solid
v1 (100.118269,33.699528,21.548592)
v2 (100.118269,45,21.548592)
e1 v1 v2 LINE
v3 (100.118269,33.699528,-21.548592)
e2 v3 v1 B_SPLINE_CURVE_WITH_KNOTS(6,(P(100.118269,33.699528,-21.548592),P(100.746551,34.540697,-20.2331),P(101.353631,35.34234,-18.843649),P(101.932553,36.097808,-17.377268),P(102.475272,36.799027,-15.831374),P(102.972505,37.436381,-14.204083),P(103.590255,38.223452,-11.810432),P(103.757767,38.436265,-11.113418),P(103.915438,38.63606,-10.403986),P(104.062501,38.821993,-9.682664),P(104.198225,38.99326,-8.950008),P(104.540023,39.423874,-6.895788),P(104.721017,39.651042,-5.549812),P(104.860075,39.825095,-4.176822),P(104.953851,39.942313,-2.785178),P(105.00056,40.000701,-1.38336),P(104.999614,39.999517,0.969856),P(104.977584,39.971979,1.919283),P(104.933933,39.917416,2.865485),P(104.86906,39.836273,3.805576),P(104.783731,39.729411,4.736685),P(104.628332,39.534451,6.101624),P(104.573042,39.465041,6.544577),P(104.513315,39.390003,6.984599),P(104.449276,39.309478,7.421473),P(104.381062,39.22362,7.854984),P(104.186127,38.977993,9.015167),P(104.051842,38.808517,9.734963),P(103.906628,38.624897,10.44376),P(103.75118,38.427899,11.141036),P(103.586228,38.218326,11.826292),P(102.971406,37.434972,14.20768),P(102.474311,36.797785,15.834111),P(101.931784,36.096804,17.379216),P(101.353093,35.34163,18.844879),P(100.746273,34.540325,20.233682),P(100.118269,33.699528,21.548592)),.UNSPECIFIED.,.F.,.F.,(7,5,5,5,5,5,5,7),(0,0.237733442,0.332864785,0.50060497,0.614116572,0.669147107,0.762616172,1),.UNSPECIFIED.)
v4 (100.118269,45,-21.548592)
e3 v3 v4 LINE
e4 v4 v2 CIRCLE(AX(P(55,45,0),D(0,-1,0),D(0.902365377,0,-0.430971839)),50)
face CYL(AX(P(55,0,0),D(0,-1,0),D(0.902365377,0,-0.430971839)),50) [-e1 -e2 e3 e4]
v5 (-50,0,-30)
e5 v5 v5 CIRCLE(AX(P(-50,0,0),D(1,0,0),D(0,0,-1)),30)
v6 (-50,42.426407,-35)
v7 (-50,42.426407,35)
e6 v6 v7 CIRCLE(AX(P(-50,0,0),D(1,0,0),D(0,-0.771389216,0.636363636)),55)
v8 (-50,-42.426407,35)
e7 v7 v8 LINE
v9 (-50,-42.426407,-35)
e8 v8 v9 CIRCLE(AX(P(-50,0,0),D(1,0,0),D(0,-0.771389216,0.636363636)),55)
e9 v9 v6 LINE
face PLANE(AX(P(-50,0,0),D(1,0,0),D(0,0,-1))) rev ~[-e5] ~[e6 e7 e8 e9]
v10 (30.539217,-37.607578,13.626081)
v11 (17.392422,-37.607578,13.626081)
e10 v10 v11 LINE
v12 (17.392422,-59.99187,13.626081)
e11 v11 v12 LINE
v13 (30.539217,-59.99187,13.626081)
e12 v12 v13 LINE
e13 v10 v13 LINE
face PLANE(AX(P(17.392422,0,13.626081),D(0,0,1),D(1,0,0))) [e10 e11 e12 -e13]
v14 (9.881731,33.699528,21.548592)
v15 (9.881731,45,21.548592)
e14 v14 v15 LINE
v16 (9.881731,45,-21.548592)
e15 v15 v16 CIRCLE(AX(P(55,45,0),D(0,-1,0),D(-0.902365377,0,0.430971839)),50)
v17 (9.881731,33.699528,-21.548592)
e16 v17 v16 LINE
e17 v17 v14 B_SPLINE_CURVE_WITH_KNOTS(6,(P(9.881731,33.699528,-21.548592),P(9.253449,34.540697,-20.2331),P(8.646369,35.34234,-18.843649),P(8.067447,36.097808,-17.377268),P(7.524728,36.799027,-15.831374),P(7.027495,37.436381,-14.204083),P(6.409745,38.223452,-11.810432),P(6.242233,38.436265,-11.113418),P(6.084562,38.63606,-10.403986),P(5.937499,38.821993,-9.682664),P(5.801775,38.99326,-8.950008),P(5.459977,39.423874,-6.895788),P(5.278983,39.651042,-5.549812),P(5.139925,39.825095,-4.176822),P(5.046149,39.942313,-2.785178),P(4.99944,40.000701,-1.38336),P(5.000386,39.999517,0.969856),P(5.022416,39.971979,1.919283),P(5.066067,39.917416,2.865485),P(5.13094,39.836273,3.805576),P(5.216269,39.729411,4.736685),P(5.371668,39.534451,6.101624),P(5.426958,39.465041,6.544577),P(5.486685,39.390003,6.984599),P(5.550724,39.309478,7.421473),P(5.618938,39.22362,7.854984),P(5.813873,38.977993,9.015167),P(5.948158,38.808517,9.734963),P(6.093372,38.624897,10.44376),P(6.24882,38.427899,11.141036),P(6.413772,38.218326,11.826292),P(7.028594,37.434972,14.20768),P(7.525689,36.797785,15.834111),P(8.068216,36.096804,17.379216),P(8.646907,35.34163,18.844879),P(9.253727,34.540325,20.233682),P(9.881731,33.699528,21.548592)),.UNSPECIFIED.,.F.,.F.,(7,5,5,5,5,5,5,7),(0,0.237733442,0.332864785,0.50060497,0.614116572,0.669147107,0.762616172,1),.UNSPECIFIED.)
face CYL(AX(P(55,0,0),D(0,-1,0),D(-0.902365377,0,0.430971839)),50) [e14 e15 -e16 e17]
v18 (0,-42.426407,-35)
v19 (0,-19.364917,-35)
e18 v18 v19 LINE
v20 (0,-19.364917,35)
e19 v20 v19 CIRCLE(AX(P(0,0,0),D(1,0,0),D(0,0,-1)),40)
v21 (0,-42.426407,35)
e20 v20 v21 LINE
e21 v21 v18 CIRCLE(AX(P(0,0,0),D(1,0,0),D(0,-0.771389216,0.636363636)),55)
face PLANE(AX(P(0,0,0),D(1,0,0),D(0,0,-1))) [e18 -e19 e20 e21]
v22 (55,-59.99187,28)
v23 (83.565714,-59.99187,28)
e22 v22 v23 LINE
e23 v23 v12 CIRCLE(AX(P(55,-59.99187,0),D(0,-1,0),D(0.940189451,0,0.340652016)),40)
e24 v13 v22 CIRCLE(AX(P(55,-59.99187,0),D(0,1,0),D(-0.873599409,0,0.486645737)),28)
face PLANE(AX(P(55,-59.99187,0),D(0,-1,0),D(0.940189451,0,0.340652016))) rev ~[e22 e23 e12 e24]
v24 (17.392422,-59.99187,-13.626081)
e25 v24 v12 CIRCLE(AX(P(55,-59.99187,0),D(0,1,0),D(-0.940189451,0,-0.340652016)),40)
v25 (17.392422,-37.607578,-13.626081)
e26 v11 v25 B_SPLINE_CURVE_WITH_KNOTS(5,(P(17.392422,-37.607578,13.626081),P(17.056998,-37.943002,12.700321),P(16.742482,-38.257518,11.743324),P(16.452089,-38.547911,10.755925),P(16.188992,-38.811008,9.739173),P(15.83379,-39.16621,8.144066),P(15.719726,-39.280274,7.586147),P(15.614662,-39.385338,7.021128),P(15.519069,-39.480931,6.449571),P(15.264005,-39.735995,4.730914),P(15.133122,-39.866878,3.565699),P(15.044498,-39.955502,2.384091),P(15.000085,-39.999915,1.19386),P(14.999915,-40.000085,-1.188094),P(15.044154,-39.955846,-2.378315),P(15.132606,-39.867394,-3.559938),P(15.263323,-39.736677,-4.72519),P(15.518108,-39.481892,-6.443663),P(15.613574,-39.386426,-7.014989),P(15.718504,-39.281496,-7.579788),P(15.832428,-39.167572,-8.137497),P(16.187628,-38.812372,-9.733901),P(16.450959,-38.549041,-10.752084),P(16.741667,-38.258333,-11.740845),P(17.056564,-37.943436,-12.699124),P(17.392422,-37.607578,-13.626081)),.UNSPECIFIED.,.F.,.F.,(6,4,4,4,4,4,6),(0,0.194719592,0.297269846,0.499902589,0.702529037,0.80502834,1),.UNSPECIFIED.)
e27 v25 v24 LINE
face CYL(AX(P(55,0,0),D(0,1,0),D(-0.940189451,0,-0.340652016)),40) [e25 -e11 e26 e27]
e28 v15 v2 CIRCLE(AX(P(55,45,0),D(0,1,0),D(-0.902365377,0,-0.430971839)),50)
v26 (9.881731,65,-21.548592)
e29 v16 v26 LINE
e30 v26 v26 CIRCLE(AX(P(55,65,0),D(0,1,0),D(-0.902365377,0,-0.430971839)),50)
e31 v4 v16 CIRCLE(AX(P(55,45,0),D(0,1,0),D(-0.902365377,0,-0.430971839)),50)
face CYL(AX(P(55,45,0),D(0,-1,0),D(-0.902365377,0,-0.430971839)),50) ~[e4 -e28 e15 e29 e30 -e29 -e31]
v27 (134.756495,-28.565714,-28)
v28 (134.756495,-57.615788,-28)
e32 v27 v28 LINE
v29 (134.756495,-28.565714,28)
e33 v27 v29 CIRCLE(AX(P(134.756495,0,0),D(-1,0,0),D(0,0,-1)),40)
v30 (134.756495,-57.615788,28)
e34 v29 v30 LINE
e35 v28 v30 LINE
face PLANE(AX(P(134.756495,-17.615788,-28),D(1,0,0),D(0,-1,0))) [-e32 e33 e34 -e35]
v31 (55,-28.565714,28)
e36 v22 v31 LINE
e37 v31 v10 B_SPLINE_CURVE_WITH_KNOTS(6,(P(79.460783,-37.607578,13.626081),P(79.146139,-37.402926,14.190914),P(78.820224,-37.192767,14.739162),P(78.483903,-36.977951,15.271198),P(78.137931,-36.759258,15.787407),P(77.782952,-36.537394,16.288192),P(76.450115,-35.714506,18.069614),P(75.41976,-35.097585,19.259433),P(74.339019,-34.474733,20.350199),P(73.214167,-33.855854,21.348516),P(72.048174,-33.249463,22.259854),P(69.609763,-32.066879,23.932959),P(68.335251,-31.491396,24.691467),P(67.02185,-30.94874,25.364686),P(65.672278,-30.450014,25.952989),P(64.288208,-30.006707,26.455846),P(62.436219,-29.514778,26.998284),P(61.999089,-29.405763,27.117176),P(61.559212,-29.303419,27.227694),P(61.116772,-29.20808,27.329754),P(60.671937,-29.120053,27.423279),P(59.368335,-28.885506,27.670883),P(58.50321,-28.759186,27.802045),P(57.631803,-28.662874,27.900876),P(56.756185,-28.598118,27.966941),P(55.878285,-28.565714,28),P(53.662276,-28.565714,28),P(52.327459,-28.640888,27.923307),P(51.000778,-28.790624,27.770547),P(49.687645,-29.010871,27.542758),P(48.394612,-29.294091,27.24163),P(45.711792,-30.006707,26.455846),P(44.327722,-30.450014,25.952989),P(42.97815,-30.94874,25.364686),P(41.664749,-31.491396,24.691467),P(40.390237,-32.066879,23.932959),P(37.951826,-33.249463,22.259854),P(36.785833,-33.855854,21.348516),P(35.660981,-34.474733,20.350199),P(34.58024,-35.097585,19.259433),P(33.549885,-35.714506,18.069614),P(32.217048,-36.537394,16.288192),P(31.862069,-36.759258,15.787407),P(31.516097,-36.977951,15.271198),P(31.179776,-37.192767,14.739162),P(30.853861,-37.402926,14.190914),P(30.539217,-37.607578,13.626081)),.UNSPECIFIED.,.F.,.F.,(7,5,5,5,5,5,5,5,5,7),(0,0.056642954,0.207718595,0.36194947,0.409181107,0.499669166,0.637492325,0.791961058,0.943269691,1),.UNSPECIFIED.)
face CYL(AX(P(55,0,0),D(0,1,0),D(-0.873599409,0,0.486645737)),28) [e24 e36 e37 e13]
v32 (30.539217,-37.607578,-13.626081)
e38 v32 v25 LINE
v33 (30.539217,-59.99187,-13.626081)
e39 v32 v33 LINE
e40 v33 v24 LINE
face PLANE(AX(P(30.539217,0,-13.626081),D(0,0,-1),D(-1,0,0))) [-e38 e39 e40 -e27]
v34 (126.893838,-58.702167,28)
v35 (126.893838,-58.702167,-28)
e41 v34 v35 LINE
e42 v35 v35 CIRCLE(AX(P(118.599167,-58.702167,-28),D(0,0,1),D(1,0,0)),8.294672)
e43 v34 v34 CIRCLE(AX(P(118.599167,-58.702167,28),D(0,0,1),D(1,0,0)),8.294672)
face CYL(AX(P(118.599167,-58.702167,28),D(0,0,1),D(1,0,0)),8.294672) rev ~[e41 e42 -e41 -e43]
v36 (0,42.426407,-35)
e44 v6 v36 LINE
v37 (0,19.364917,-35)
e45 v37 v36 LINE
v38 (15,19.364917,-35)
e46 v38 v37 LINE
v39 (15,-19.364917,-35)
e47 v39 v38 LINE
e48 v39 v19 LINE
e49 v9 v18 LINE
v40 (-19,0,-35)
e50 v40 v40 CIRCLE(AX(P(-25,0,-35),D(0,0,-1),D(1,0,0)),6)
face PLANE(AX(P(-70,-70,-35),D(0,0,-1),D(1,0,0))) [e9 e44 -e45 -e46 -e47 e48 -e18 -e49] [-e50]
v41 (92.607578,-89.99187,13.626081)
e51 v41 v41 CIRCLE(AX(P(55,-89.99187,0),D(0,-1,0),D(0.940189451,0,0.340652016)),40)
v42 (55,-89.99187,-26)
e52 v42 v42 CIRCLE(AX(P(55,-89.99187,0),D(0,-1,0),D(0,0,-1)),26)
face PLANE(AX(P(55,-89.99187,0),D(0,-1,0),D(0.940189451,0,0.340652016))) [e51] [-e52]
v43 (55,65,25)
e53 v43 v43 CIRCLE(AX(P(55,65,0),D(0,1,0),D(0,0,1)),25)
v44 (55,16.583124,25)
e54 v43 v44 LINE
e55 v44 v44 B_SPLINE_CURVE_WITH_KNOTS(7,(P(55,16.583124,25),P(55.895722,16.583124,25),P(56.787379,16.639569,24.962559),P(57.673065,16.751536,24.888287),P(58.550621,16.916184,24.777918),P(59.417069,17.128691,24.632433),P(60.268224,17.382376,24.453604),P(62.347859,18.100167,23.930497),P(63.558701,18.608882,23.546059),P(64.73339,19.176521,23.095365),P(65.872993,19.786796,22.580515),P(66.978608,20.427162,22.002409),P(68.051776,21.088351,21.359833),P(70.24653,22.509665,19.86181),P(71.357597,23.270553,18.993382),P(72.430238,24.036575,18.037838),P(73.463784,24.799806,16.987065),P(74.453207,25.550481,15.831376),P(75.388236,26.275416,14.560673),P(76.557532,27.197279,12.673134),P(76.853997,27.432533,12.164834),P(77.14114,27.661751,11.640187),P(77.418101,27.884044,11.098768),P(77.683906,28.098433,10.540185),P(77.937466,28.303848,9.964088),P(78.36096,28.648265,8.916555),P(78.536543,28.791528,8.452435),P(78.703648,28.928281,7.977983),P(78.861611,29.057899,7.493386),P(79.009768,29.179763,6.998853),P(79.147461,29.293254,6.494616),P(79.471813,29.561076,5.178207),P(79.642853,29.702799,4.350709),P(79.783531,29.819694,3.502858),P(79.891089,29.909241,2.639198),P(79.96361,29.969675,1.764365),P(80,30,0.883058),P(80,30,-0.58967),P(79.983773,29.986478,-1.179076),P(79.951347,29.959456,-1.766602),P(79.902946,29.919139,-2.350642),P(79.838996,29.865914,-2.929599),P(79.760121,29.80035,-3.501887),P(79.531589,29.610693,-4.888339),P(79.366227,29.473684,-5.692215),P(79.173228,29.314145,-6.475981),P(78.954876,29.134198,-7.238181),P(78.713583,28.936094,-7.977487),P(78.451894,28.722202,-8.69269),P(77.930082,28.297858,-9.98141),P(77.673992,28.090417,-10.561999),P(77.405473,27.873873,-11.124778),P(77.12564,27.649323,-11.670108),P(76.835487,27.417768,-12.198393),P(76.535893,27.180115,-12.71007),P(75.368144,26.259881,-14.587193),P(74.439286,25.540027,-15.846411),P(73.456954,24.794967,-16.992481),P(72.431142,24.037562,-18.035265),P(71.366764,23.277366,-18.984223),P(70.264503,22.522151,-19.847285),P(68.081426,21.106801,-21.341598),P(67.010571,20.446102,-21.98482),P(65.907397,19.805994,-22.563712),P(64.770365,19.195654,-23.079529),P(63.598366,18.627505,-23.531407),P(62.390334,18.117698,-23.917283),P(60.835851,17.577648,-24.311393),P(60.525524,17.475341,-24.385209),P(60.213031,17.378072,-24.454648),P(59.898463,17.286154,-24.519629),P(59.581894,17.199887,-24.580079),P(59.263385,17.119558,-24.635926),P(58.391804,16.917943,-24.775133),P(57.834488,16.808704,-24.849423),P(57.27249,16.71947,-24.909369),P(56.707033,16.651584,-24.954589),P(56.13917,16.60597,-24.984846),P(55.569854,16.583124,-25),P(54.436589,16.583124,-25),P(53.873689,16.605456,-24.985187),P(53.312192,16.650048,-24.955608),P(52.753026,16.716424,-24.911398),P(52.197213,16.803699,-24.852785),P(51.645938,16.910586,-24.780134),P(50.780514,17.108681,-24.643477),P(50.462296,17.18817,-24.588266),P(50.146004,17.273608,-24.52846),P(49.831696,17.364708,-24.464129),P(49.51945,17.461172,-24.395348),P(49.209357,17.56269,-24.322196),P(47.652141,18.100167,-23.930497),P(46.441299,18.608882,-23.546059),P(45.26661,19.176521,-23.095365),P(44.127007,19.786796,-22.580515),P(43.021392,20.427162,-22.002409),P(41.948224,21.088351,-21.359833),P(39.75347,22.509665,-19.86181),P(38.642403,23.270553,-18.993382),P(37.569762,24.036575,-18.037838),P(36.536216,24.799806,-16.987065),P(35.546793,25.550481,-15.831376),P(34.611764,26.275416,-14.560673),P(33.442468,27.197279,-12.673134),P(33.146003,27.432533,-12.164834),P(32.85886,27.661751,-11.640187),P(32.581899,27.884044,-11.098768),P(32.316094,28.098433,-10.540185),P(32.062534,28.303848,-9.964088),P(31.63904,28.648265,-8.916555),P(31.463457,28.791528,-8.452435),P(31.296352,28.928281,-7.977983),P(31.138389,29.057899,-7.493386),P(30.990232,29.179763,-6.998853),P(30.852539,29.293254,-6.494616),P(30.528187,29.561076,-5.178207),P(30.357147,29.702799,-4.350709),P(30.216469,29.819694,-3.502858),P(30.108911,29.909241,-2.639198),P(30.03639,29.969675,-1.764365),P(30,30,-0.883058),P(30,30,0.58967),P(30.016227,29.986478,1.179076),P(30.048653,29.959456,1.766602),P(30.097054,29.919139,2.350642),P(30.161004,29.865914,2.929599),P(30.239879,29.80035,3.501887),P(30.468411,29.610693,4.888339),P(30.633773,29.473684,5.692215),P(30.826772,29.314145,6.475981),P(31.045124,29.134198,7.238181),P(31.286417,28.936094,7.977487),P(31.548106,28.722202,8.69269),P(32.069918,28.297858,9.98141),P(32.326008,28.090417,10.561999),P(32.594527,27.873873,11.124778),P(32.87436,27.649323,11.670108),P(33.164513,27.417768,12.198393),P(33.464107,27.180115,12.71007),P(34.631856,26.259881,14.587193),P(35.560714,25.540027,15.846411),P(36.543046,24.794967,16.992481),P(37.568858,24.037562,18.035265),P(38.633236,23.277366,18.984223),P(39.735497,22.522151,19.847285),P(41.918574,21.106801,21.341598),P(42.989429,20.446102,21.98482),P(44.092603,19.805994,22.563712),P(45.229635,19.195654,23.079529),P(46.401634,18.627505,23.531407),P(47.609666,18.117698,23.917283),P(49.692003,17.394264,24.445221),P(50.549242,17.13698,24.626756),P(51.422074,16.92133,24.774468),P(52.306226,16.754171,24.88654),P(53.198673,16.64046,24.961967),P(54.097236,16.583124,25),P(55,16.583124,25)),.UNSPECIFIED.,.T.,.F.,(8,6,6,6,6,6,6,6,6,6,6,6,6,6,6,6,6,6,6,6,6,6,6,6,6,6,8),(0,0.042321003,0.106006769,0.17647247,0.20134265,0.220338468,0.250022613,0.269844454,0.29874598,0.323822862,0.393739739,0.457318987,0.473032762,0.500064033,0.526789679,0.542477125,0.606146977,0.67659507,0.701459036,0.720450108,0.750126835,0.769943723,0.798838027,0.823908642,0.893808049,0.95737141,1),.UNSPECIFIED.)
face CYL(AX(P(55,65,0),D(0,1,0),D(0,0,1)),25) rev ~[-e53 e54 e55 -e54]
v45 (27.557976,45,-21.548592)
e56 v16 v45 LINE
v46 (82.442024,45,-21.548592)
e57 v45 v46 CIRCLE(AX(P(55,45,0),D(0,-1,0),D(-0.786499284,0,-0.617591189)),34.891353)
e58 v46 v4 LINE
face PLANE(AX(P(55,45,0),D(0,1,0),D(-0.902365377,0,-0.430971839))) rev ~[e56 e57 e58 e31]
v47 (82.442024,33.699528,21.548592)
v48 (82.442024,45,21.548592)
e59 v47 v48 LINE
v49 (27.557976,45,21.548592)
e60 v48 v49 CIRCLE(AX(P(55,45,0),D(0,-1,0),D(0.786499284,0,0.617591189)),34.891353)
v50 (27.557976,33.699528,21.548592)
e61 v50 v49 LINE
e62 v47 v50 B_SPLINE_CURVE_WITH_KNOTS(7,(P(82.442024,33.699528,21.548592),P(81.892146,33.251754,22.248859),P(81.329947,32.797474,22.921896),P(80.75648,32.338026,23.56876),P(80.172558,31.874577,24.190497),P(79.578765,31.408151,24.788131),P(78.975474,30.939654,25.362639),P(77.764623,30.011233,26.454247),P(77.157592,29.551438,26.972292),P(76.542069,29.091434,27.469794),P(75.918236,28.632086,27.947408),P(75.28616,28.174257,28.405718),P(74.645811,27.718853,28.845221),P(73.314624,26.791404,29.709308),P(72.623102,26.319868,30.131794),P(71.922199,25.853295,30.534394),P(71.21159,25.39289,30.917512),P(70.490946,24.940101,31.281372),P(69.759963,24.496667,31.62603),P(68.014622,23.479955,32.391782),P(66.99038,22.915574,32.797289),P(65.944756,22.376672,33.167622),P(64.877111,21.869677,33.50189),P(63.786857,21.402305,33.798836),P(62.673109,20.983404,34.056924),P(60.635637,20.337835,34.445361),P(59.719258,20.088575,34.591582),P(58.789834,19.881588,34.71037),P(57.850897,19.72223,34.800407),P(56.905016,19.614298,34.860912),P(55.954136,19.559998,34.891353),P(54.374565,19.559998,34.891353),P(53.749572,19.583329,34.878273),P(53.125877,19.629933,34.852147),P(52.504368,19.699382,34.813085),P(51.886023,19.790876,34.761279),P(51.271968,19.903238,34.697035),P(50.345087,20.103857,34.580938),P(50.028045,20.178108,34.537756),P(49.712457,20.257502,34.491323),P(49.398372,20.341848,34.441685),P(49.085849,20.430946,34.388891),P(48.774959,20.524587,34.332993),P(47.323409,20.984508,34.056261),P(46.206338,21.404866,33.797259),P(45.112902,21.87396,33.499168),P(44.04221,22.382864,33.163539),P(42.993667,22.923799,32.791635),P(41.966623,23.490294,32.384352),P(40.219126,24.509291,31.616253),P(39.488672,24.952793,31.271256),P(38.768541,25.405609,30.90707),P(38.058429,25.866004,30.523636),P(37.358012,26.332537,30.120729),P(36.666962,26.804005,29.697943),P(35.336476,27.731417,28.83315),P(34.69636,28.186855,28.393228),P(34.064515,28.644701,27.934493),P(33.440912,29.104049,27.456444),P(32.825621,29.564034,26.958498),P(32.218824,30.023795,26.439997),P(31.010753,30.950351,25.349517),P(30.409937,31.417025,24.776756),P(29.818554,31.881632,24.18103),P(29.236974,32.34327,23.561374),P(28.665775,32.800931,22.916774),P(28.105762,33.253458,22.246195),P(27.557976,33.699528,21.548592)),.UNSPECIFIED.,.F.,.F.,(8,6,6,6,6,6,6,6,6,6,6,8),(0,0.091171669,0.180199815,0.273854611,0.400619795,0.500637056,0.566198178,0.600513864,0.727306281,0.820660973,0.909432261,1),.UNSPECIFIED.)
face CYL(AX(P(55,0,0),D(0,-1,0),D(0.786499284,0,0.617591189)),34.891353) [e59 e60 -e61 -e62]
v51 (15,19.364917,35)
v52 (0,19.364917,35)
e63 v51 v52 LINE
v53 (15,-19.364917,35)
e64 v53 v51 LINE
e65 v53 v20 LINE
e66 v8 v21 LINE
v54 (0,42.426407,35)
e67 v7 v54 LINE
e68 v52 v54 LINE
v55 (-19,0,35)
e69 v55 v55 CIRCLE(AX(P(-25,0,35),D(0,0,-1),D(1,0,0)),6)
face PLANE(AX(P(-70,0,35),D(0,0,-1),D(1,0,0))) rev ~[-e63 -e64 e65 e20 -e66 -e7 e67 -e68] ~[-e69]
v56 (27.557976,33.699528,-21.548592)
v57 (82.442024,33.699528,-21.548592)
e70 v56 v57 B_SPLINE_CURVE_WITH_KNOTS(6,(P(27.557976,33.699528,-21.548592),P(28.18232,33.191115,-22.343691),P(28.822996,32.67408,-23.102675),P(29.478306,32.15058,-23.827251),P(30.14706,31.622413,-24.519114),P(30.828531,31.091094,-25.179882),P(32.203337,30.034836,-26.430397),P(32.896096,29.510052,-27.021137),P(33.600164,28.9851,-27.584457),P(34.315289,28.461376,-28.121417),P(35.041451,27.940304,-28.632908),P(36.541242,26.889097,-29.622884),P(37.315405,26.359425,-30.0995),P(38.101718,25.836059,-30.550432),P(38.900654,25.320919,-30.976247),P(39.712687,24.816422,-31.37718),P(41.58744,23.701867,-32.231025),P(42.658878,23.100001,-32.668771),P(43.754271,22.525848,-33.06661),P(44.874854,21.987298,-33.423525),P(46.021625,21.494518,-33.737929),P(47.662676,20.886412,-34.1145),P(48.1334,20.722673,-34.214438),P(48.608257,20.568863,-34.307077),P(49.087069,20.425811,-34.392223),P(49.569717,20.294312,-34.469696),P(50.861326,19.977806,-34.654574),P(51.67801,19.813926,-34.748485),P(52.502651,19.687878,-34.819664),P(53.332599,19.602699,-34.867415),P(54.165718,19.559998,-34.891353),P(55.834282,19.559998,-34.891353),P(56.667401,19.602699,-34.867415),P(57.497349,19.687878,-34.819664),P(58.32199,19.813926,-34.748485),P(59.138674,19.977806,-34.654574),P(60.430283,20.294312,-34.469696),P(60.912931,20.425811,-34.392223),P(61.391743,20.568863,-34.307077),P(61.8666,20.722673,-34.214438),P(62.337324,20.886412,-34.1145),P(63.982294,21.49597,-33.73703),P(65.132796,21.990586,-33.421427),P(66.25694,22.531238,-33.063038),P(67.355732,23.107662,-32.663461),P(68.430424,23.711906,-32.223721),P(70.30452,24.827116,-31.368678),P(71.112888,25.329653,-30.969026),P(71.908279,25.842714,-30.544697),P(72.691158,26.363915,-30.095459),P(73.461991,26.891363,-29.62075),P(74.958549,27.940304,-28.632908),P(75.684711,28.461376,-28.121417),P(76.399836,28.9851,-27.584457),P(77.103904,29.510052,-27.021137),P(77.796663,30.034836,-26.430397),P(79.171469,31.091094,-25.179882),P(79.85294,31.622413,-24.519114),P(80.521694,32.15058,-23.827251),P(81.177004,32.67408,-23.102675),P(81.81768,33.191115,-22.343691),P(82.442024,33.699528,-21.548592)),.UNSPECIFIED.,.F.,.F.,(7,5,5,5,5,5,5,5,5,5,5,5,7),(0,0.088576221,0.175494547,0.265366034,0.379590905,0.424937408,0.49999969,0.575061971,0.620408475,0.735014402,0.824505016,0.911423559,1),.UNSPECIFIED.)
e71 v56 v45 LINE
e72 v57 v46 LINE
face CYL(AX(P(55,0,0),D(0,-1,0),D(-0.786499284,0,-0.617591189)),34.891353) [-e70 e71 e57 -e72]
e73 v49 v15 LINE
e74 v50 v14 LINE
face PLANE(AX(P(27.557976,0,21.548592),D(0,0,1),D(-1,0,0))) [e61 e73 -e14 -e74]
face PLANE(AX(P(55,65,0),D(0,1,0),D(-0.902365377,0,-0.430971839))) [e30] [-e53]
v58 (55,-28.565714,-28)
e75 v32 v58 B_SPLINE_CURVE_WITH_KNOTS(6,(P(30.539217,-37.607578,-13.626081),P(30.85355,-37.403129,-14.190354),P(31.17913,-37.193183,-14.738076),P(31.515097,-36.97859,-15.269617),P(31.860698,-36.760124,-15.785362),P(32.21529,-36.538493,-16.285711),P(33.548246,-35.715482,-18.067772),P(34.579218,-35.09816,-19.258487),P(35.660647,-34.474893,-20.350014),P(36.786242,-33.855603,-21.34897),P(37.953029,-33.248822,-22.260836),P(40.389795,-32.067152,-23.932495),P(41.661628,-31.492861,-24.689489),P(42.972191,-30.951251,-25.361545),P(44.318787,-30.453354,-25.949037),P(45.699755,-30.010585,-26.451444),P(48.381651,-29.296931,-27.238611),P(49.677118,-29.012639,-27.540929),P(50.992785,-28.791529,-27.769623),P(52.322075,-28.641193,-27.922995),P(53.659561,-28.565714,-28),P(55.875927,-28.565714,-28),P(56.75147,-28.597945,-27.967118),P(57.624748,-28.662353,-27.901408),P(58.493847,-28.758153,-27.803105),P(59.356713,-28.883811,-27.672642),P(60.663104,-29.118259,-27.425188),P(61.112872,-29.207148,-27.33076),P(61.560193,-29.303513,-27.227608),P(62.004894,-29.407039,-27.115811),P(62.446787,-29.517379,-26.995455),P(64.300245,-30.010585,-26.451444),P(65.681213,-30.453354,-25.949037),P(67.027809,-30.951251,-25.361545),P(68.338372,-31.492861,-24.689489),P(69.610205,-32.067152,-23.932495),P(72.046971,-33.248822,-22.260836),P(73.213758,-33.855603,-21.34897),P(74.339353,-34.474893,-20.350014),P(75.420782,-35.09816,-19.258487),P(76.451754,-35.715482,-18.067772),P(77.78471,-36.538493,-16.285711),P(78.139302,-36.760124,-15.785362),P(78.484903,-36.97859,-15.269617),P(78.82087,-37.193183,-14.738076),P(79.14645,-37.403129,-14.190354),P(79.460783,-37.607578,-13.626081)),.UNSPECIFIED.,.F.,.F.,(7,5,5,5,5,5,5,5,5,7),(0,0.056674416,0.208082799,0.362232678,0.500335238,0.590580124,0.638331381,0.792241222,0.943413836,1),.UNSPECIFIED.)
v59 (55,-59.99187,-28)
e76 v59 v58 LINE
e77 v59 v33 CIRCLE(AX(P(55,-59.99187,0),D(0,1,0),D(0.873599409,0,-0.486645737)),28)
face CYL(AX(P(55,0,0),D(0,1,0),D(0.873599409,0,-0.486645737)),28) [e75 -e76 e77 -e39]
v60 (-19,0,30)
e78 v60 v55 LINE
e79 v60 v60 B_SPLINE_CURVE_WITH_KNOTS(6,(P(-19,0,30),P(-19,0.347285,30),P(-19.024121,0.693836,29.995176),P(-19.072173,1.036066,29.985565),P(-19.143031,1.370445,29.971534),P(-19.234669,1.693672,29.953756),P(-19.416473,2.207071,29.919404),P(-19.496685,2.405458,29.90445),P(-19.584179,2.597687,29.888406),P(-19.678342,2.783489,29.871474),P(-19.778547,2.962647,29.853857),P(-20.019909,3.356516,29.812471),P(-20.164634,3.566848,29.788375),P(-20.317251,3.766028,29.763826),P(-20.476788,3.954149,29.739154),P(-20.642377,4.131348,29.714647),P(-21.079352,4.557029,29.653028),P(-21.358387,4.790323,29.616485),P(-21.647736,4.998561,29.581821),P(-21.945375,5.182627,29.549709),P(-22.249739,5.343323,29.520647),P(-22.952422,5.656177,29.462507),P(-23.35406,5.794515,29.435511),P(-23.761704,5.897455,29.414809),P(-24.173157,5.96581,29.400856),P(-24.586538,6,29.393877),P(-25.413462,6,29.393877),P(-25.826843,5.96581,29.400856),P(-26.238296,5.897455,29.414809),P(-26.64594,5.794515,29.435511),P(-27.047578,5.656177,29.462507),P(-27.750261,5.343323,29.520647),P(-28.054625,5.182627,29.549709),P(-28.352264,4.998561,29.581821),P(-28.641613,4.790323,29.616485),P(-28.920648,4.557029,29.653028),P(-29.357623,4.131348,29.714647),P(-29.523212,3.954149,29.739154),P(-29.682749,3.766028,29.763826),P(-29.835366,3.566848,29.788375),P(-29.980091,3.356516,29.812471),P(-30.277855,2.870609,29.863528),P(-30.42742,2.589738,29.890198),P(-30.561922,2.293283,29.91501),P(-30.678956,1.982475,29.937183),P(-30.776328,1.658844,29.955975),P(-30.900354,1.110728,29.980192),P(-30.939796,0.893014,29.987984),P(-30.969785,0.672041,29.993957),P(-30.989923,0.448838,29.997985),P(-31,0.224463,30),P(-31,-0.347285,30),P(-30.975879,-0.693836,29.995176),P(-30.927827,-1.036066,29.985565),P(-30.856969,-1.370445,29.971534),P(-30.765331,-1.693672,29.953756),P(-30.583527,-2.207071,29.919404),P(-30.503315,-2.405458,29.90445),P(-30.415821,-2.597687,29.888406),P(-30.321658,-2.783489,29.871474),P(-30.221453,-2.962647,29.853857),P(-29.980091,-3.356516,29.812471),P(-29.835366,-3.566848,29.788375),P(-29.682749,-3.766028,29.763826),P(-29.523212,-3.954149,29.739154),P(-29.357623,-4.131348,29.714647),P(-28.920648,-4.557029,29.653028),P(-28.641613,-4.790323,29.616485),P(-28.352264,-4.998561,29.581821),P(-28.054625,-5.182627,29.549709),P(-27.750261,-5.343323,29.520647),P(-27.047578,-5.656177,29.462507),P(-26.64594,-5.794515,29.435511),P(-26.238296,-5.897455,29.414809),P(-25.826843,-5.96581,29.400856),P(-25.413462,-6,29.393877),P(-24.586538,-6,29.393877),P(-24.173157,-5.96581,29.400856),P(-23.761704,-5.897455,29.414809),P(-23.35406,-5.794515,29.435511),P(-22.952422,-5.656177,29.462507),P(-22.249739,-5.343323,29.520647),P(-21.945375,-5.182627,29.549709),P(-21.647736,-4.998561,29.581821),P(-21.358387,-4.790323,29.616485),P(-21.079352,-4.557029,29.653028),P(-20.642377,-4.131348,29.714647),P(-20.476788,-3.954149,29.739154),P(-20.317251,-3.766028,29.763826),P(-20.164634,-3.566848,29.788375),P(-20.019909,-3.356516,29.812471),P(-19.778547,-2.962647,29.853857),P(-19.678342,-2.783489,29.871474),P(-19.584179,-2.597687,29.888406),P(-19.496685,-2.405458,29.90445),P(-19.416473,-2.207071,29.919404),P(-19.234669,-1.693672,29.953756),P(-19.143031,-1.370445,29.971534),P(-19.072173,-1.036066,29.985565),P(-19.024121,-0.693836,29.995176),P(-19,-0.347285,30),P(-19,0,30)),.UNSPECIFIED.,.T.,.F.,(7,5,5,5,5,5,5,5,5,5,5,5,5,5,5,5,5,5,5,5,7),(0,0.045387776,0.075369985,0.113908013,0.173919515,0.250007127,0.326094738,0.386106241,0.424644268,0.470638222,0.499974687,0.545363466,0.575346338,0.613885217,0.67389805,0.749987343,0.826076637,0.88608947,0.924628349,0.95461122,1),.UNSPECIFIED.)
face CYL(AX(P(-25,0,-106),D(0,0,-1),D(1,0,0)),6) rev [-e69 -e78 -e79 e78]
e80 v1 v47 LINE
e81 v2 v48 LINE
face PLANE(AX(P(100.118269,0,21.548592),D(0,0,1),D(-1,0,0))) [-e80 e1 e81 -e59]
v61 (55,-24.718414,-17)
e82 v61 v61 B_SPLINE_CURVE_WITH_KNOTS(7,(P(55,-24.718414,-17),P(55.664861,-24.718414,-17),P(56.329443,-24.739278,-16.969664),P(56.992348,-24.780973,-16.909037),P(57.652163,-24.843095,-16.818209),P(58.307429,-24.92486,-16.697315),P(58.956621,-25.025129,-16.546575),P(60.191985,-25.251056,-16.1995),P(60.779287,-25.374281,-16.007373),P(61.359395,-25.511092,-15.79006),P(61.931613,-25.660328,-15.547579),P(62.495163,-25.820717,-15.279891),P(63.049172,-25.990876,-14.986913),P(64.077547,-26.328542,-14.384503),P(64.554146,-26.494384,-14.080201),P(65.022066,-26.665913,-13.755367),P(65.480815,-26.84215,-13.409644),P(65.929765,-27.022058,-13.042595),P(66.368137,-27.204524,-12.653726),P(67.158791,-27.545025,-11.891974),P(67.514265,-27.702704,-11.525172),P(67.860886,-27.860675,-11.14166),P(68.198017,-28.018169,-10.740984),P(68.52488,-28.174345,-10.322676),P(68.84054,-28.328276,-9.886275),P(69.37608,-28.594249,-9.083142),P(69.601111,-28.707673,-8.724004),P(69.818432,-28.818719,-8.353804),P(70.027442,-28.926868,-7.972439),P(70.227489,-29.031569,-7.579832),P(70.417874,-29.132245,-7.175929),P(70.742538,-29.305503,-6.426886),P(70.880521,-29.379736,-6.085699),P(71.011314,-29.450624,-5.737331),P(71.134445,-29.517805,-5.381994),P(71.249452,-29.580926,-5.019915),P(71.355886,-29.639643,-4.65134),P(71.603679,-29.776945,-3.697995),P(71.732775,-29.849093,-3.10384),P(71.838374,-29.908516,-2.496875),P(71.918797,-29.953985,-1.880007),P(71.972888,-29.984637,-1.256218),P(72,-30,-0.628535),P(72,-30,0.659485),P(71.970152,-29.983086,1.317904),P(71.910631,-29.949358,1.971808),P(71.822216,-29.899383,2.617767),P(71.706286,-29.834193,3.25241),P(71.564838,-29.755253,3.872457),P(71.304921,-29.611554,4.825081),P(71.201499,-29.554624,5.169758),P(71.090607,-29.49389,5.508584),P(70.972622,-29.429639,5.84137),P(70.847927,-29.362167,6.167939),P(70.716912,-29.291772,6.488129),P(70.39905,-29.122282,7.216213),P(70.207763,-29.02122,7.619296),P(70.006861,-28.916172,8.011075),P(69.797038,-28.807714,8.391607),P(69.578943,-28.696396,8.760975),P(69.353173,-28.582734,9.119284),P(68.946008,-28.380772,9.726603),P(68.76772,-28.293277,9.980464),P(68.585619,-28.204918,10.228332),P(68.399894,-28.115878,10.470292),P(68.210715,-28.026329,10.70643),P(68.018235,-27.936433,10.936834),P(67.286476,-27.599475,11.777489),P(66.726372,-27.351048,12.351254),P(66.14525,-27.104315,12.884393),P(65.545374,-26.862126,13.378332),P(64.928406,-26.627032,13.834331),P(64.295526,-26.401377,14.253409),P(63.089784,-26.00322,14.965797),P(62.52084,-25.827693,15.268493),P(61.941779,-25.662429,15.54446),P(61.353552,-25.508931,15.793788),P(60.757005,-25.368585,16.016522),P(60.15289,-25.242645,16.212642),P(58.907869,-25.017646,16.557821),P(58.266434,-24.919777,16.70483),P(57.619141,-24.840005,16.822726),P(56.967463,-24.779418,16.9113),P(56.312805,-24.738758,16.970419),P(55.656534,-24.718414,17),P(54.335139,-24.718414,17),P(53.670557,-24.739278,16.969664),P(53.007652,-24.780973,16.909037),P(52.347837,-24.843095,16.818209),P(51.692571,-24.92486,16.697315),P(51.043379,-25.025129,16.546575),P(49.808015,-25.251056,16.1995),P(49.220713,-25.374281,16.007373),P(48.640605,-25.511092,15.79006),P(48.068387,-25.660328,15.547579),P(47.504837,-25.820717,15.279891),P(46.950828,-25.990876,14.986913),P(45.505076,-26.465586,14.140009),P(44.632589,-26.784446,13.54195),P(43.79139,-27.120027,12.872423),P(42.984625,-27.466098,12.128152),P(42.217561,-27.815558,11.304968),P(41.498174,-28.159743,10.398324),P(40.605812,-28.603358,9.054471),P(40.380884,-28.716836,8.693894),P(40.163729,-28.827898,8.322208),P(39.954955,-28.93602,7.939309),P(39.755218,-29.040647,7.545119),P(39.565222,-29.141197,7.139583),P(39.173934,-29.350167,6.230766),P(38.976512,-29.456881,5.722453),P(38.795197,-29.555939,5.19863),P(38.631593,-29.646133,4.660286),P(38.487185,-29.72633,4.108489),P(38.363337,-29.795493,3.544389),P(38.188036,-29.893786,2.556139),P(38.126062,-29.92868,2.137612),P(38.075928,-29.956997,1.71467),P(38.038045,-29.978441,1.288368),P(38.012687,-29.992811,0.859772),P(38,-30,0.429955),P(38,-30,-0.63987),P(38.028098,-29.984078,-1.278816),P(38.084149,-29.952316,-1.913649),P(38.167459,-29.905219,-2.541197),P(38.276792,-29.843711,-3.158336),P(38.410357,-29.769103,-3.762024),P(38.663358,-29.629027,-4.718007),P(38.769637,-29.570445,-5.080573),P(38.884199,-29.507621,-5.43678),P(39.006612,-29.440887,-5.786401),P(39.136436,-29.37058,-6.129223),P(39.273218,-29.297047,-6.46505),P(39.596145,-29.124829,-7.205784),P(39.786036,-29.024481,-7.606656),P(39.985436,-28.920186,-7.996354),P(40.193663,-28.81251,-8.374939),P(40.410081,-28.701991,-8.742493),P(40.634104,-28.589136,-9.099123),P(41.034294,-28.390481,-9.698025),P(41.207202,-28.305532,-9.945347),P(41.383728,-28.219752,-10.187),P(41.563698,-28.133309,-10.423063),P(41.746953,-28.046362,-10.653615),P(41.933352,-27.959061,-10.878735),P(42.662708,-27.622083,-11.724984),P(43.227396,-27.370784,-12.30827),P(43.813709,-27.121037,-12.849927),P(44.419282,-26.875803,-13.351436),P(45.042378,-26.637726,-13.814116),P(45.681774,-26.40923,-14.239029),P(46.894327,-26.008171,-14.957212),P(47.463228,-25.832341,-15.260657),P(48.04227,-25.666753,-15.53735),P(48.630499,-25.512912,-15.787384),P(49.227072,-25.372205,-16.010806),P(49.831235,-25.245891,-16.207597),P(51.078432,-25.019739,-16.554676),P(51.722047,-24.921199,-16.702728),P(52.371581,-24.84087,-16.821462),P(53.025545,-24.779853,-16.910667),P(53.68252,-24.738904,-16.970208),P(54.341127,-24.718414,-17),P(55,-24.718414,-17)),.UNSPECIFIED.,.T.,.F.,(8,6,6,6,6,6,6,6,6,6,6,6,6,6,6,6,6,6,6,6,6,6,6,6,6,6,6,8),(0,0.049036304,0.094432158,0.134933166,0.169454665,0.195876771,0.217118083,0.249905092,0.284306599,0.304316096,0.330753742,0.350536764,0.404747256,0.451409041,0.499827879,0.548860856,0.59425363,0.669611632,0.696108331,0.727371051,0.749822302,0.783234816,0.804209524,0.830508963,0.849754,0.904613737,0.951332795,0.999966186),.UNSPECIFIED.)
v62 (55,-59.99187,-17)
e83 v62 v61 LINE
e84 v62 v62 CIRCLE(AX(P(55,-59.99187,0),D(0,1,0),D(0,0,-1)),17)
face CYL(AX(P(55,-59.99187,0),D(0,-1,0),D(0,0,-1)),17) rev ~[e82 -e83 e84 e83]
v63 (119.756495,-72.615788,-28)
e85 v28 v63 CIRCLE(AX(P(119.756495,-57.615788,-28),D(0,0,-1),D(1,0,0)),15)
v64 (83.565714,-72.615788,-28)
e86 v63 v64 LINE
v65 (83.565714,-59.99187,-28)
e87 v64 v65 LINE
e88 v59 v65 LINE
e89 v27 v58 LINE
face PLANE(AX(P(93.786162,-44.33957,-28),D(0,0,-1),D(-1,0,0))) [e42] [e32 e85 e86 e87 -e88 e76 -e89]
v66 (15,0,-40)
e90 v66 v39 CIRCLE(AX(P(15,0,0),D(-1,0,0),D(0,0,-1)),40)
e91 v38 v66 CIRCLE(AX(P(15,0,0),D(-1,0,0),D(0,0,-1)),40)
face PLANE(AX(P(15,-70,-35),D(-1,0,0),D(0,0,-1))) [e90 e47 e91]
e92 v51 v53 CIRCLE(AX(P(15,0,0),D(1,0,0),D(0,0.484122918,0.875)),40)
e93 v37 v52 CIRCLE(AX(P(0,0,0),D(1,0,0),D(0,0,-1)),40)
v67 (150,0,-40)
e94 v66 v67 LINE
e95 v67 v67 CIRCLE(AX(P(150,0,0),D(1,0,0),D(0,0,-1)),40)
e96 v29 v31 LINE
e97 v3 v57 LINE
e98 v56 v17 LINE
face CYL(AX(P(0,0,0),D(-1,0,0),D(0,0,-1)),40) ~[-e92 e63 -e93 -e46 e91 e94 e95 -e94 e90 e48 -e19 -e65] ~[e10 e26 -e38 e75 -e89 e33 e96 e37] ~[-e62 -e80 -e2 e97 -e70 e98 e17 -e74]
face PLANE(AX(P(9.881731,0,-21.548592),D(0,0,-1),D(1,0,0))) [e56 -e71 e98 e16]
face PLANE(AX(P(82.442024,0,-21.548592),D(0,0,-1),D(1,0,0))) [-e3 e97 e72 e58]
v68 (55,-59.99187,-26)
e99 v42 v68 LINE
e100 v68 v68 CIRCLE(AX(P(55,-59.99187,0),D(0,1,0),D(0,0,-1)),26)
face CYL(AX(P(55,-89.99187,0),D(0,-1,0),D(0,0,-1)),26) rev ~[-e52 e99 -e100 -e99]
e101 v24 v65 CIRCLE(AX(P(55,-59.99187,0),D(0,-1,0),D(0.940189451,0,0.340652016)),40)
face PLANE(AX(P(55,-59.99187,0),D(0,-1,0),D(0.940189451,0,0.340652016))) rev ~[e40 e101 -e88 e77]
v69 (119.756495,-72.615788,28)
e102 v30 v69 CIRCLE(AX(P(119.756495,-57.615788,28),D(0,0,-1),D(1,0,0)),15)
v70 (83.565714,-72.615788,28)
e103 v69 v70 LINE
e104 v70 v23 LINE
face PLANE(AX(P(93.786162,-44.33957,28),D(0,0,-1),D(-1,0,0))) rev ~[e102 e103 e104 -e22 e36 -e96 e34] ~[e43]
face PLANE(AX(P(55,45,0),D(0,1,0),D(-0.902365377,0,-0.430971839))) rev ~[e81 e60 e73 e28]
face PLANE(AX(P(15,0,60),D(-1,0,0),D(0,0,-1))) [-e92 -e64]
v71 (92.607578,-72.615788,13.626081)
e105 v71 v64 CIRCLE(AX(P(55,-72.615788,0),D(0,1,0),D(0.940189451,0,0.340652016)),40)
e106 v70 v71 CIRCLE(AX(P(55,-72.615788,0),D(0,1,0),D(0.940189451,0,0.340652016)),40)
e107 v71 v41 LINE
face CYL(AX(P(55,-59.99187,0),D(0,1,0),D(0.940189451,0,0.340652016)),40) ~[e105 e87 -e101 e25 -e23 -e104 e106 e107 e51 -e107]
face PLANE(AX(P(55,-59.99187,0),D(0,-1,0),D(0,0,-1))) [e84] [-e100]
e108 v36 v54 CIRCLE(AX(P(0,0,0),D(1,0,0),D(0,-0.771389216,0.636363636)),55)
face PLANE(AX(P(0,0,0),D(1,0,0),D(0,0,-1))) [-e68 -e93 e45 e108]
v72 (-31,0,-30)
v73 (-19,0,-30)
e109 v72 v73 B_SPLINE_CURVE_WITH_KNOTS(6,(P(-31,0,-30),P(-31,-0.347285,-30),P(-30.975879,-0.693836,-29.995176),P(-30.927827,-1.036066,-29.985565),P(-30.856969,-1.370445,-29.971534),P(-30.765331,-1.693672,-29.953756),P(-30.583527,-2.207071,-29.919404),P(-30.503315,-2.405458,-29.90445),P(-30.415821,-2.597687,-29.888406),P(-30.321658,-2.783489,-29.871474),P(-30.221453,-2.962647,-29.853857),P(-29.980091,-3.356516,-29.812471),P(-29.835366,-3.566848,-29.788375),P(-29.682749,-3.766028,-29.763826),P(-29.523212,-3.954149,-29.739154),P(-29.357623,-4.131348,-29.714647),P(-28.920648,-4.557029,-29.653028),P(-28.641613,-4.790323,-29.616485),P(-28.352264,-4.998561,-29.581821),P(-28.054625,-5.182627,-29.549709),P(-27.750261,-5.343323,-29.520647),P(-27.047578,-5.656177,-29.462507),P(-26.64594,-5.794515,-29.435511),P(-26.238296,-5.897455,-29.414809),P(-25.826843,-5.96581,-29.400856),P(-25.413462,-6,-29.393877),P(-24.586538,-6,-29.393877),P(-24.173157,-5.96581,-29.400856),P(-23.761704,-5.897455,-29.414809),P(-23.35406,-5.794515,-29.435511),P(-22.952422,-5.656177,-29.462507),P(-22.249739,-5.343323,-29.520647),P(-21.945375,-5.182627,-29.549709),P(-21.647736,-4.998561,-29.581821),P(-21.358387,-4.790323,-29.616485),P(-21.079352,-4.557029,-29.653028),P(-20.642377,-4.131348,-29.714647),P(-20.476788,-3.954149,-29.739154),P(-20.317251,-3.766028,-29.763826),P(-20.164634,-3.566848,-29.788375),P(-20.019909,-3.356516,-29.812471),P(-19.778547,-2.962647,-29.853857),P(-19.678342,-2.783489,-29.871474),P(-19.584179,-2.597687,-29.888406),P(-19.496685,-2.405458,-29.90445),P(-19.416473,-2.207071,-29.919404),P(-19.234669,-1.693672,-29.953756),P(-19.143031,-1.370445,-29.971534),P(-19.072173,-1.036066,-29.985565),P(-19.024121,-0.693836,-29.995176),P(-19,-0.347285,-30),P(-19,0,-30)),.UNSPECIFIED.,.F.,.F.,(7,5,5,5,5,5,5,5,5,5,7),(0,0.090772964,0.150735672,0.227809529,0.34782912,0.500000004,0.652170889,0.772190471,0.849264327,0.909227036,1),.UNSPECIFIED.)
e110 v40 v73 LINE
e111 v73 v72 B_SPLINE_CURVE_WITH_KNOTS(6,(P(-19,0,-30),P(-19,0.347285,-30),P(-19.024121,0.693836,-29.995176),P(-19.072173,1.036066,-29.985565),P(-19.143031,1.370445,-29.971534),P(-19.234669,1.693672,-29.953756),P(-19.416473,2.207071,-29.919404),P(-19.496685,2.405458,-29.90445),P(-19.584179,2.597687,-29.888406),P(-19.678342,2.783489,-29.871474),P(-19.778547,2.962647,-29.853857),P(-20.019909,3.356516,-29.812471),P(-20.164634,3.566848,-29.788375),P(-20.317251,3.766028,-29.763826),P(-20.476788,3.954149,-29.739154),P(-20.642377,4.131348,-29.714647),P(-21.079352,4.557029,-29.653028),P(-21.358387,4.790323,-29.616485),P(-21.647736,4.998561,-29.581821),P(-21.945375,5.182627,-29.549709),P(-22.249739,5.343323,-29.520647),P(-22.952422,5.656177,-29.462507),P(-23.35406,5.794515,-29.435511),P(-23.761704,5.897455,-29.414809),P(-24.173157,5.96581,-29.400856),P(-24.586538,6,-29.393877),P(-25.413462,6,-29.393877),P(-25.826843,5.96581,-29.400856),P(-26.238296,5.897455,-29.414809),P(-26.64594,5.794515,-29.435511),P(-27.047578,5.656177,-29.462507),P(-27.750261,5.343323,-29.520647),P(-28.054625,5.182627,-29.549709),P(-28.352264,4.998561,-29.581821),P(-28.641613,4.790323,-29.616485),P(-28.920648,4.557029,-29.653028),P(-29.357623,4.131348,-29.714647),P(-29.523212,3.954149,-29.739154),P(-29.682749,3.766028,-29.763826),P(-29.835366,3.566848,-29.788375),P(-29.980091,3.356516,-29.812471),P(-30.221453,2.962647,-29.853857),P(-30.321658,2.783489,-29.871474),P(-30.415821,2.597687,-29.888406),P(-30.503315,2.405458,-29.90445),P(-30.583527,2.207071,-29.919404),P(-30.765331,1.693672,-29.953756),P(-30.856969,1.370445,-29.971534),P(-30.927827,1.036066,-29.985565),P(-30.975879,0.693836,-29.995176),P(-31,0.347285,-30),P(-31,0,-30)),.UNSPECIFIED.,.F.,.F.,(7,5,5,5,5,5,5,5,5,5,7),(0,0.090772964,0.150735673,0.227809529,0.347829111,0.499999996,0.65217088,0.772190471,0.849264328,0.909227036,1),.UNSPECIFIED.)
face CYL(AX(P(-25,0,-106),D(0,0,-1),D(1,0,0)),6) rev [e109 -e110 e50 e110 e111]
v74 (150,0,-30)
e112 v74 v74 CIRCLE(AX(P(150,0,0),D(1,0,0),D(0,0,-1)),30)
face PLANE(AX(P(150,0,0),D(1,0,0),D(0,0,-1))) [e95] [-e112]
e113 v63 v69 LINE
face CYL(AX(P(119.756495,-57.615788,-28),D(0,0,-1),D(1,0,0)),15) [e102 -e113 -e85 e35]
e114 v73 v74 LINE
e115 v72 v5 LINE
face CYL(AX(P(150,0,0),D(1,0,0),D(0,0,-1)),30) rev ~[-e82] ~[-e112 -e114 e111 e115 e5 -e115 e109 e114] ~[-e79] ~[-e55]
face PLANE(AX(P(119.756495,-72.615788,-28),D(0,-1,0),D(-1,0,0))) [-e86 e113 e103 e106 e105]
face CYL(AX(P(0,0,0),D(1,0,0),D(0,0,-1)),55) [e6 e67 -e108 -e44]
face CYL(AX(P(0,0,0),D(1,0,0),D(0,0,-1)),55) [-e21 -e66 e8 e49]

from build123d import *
from build123d.topology import SkipClean

# Parameters (mm, degrees)
SKETCH_1_R                       = 40
EXTRUDE_1_DEPTH                  = 150
SKETCH_2_R                       = 55
EXTRUDE_2_DEPTH                  = 50
SKETCH_3_R                       = 30
CUT_EXTRUDE_2_DEPTH              = 200
CUT_EXTRUDE_3_DEPTH              = 134
CUT_EXTRUDE_3_DEPTH_BACK         = 106
SKETCH_5_R                       = 6
EXTRUDE_3_DEPTH                  = 45
SKETCH_15_R                      = 50
EXTRUDE_5_DEPTH                  = 20
EXTRUDE_6_DEPTH                  = 59.991870163
SKETCH_17_R                      = 40
EXTRUDE_7_DEPTH                  = 30
SKETCH_18_R                      = 26
CUT_EXTRUDE_25_DEPTH             = 30
SKETCH_19_R                      = 17
CUT_EXTRUDE_26_DEPTH             = 51
CUT_EXTRUDE_27_DEPTH             = 170
CUT_EXTRUDE_27_DEPTH_BACK        = 99
SKETCH_20_R                      = 30
SKETCH_21_R                      = 25
CUT_EXTRUDE_28_DEPTH             = 60
EXTRUDE_8_DEPTH                  = 28
EXTRUDE_8_DEPTH_BACK             = 28
SKETCH_23_R                      = 8.294671539
CUT_EXTRUDE_29_DEPTH             = 70
CUT_EXTRUDE_30_REACH             = 185.367
CUT_EXTRUDE_30_END_RADIUS        = 55
SKETCH_24_W                      = 85
SKETCH_24_H                      = 25
CUT_EXTRUDE_30_DIRECTION_2_DEPTH = 70
CUT_EXTRUDE_31_DEPTH             = 70
CUT_EXTRUDE_31_DEPTH_BACK        = 70
SKETCH_25_W                      = 85
SKETCH_25_H                      = 25
SKETCH_26_R                      = 26
CUT_EXTRUDE_32_DEPTH             = 30
SKETCH_27_R                      = 17
CUT_EXTRUDE_33_DEPTH             = 55
CUT_EXTRUDE_34_DEPTH             = 417
CUT_EXTRUDE_34_DEPTH_BACK        = 195
SKETCH_29_R                      = 30


with BuildPart() as part:
    # 草图1 → 凸台-拉伸1 (new body)
    with BuildSketch(Plane(origin=(0, 0, 0), x_dir=(0, 0, -1), z_dir=(1, 0, 0))):
        Circle(SKETCH_1_R)
    extrude(amount=EXTRUDE_1_DEPTH)

    # 草图2 → 凸台-拉伸2 (add)
    with BuildSketch(Plane(origin=(0, 0, 0), x_dir=(0, 0, -1), z_dir=(1, 0, 0))):
        Circle(SKETCH_2_R)
    extrude(amount=-EXTRUDE_2_DEPTH)

    # 草图3 → 切除-拉伸2 (cut)
    with BuildSketch(Plane(origin=(150, 0, 0), x_dir=(0, 0, -1), z_dir=(1, 0, 0))):
        Circle(SKETCH_3_R)
    extrude(amount=-CUT_EXTRUDE_2_DEPTH, mode=Mode.SUBTRACT)

    # 草图5 → 切除-拉伸3 (cut, two sides: drawn at the far end of the back side and taken through both)
    with BuildSketch(Plane.XY.offset(-CUT_EXTRUDE_3_DEPTH_BACK)):
        with Locations((-25, 0)):
            Circle(SKETCH_5_R)
    extrude(amount=CUT_EXTRUDE_3_DEPTH + CUT_EXTRUDE_3_DEPTH_BACK, mode=Mode.SUBTRACT)

    # 草图7 → 凸台-拉伸3 (add)
    with BuildSketch(Plane(origin=(0, 0, 0), x_dir=(1, 0, 0), z_dir=(0, 1, 0))):
        with BuildLine():
            Line((82.442023832, 21.548591956), (100.118268858, 21.548591956))
            ThreePointArc((100.118268858, 21.548591956), (105, 0), (100.118268858, -21.548591956))
            Line((100.118268858, -21.548591956), (82.442023832, -21.548591956))
            ThreePointArc((82.442023832, -21.548591956), (55, -34.891352615), (27.557976168, -21.548591956))
            Line((27.557976168, -21.548591956), (9.881731142, -21.548591956))
            ThreePointArc((9.881731142, -21.548591956), (5, 0), (9.881731142, 21.548591956))
            Line((9.881731142, 21.548591956), (27.557976168, 21.548591956))
            ThreePointArc((27.557976168, 21.548591956), (55, 34.891352615), (82.442023832, 21.548591956))
        make_face()
    extrude(amount=EXTRUDE_3_DEPTH)

    # 草图15 → 凸台-拉伸5 (add)
    with SkipClean():  # the faces are left unmerged after this step: merging them gives an invalid solid
        with BuildSketch(Plane(origin=(0, 45, 0), x_dir=(1, 0, 0), z_dir=(0, 1, 0))):
            with Locations(Location((55, 0, 0), (0, 0, 154.470748686))):
                Circle(SKETCH_15_R)
        extrude(amount=EXTRUDE_5_DEPTH)

    # 草图16 → 凸台-拉伸6 (add)
    with SkipClean():  # the faces are left unmerged after this step: merging them gives an invalid solid
        with BuildSketch(Plane(origin=(0, 0, 0), x_dir=(1, 0, 0), z_dir=(0, 1, 0))):
            with BuildLine():
                Line((30.539216555, 13.626080627), (17.392421951, 13.626080627))
                ThreePointArc((17.392421951, 13.626080627), (15, 0), (17.392421951, -13.626080627))
                Line((17.392421951, -13.626080627), (30.539216555, -13.626080627))
                ThreePointArc((30.539216555, -13.626080627), (55, -28), (79.460783445, -13.626080627))
                Line((79.460783445, -13.626080627), (92.607578049, -13.626080627))
                ThreePointArc((92.607578049, -13.626080627), (95, 0), (92.607578049, 13.626080627))
                Line((92.607578049, 13.626080627), (79.460783445, 13.626080627))
                ThreePointArc((79.460783445, 13.626080627), (55, 28), (30.539216555, 13.626080627))
            make_face()
        extrude(amount=-EXTRUDE_6_DEPTH)

    # 草图17 → 凸台-拉伸7 (add)
    with BuildSketch(Plane.XZ.offset(59.991870163)):
        with Locations(Location((55, 0, 0), (0, 0, 19.916603358))):
            Circle(SKETCH_17_R)
    extrude(amount=EXTRUDE_7_DEPTH)

    # 草图18 → 切除-拉伸25 (cut)
    with BuildSketch(Plane.XZ.offset(89.991870163)):
        with Locations(Location((55, 0, 0), (0, 0, 270))):
            Circle(SKETCH_18_R)
    extrude(amount=-CUT_EXTRUDE_25_DEPTH, mode=Mode.SUBTRACT)

    # 草图19 → 切除-拉伸26 (cut)
    with BuildSketch(Plane.XZ.offset(59.991870163)):
        with Locations(Location((55, 0, 0), (0, 0, 270))):
            Circle(SKETCH_19_R)
    extrude(amount=-CUT_EXTRUDE_26_DEPTH, mode=Mode.SUBTRACT)

    # 草图20 → 切除-拉伸27 (cut, two sides: drawn at the far end of the back side and taken through both)
    with BuildSketch(Plane(origin=(0, 0, 0), x_dir=(0, 0, -1), z_dir=(1, 0, 0)).offset(-CUT_EXTRUDE_27_DEPTH_BACK)):
        Circle(SKETCH_20_R)
    extrude(amount=CUT_EXTRUDE_27_DEPTH + CUT_EXTRUDE_27_DEPTH_BACK, mode=Mode.SUBTRACT)

    # 草图21 → 切除-拉伸28 (cut)
    with BuildSketch(Plane(origin=(0, 65, 0), x_dir=(1, 0, 0), z_dir=(0, 1, 0))):
        with Locations(Location((55, 0, 0), (0, 0, 270))):
            Circle(SKETCH_21_R)
    extrude(amount=-CUT_EXTRUDE_28_DEPTH, mode=Mode.SUBTRACT)

    # 草图22 → 凸台-拉伸8 (add, two sides: drawn at the far end of the back side and taken through both)
    with BuildSketch(Plane.XY.offset(-EXTRUDE_8_DEPTH_BACK)):
        with BuildLine():
            Line((119.756495452, -72.615787856), (55, -72.615787856))
            Line((55, -72.615787856), (55, -17.615787856))
            Line((55, -17.615787856), (134.756495452, -17.615787856))
            Line((134.756495452, -17.615787856), (134.756495452, -57.615787856))
            ThreePointArc((134.756495452, -57.615787856), (130.36309717, -68.222389574), (119.756495452, -72.615787856))
        make_face()
    extrude(amount=EXTRUDE_8_DEPTH + EXTRUDE_8_DEPTH_BACK)

    # 草图23 → 切除-拉伸29 (cut)
    with BuildSketch(Plane.XY.offset(28)):
        with Locations((118.599166742, -58.702167389)):
            Circle(SKETCH_23_R)
    extrude(amount=-CUT_EXTRUDE_29_DEPTH, mode=Mode.SUBTRACT)

    # 切除-拉伸30: up to this cylinder (the profile starts inside it)
    cut_extrude_30_end = Plane(origin=(-27.5, 0, 0), z_dir=(1, 0, 0)) * Cylinder(CUT_EXTRUDE_30_END_RADIUS, 481.734, mode=Mode.PRIVATE)
    # 草图24 → 切除-拉伸30 (cut, up to the surface)
    with BuildSketch(Plane(origin=(0, 0, 0), x_dir=(1, 0, 0), z_dir=(0, 1, 0)), mode=Mode.PRIVATE) as cut_extrude_30_sk1:
        with Locations((-27.5, -47.5)):
            Rectangle(SKETCH_24_W, SKETCH_24_H)
    cut_extrude_30_tool1 = extrude(cut_extrude_30_sk1.sketch, amount=-CUT_EXTRUDE_30_REACH, mode=Mode.PRIVATE) & cut_extrude_30_end
    add(cut_extrude_30_tool1.solids().sort_by_distance((-27.5, 0, 47.5))[0], mode=Mode.SUBTRACT)

    # 草图24 → 切除-拉伸30 direction 2 (cut)
    with BuildSketch(Plane(origin=(0, 0, 0), x_dir=(1, 0, 0), z_dir=(0, 1, 0))):
        with Locations((-27.5, -47.5)):
            Rectangle(SKETCH_24_W, SKETCH_24_H)
    extrude(amount=CUT_EXTRUDE_30_DIRECTION_2_DEPTH, mode=Mode.SUBTRACT)

    # 草图25 → 切除-拉伸31 (cut, two sides: drawn at the far end of the back side and taken through both)
    with BuildSketch(Plane(origin=(0, 0, 0), x_dir=(1, 0, 0), z_dir=(0, 1, 0)).offset(-CUT_EXTRUDE_31_DEPTH_BACK)):
        with Locations((-27.5, 47.5)):
            Rectangle(SKETCH_25_W, SKETCH_25_H)
    extrude(amount=CUT_EXTRUDE_31_DEPTH + CUT_EXTRUDE_31_DEPTH_BACK, mode=Mode.SUBTRACT)

    # 草图26 → 切除-拉伸32 (cut)
    with BuildSketch(Plane.XZ.offset(89.991870163)):
        with Locations(Location((55, 0, 0), (0, 0, 270))):
            Circle(SKETCH_26_R)
    extrude(amount=-CUT_EXTRUDE_32_DEPTH, mode=Mode.SUBTRACT)

    # 草图27 → 切除-拉伸33 (cut)
    with BuildSketch(Plane.XZ.offset(59.991870163)):
        with Locations(Location((55, 0, 0), (0, 0, 270))):
            Circle(SKETCH_27_R)
    extrude(amount=-CUT_EXTRUDE_33_DEPTH, mode=Mode.SUBTRACT)

    # 草图29 → 切除-拉伸34 (cut, two sides: drawn at the far end of the back side and taken through both)
    with BuildSketch(Plane(origin=(0, 0, 0), x_dir=(0, 0, -1), z_dir=(1, 0, 0)).offset(-CUT_EXTRUDE_34_DEPTH_BACK)):
        Circle(SKETCH_29_R)
    extrude(amount=CUT_EXTRUDE_34_DEPTH + CUT_EXTRUDE_34_DEPTH_BACK, mode=Mode.SUBTRACT)


solid = part.part
